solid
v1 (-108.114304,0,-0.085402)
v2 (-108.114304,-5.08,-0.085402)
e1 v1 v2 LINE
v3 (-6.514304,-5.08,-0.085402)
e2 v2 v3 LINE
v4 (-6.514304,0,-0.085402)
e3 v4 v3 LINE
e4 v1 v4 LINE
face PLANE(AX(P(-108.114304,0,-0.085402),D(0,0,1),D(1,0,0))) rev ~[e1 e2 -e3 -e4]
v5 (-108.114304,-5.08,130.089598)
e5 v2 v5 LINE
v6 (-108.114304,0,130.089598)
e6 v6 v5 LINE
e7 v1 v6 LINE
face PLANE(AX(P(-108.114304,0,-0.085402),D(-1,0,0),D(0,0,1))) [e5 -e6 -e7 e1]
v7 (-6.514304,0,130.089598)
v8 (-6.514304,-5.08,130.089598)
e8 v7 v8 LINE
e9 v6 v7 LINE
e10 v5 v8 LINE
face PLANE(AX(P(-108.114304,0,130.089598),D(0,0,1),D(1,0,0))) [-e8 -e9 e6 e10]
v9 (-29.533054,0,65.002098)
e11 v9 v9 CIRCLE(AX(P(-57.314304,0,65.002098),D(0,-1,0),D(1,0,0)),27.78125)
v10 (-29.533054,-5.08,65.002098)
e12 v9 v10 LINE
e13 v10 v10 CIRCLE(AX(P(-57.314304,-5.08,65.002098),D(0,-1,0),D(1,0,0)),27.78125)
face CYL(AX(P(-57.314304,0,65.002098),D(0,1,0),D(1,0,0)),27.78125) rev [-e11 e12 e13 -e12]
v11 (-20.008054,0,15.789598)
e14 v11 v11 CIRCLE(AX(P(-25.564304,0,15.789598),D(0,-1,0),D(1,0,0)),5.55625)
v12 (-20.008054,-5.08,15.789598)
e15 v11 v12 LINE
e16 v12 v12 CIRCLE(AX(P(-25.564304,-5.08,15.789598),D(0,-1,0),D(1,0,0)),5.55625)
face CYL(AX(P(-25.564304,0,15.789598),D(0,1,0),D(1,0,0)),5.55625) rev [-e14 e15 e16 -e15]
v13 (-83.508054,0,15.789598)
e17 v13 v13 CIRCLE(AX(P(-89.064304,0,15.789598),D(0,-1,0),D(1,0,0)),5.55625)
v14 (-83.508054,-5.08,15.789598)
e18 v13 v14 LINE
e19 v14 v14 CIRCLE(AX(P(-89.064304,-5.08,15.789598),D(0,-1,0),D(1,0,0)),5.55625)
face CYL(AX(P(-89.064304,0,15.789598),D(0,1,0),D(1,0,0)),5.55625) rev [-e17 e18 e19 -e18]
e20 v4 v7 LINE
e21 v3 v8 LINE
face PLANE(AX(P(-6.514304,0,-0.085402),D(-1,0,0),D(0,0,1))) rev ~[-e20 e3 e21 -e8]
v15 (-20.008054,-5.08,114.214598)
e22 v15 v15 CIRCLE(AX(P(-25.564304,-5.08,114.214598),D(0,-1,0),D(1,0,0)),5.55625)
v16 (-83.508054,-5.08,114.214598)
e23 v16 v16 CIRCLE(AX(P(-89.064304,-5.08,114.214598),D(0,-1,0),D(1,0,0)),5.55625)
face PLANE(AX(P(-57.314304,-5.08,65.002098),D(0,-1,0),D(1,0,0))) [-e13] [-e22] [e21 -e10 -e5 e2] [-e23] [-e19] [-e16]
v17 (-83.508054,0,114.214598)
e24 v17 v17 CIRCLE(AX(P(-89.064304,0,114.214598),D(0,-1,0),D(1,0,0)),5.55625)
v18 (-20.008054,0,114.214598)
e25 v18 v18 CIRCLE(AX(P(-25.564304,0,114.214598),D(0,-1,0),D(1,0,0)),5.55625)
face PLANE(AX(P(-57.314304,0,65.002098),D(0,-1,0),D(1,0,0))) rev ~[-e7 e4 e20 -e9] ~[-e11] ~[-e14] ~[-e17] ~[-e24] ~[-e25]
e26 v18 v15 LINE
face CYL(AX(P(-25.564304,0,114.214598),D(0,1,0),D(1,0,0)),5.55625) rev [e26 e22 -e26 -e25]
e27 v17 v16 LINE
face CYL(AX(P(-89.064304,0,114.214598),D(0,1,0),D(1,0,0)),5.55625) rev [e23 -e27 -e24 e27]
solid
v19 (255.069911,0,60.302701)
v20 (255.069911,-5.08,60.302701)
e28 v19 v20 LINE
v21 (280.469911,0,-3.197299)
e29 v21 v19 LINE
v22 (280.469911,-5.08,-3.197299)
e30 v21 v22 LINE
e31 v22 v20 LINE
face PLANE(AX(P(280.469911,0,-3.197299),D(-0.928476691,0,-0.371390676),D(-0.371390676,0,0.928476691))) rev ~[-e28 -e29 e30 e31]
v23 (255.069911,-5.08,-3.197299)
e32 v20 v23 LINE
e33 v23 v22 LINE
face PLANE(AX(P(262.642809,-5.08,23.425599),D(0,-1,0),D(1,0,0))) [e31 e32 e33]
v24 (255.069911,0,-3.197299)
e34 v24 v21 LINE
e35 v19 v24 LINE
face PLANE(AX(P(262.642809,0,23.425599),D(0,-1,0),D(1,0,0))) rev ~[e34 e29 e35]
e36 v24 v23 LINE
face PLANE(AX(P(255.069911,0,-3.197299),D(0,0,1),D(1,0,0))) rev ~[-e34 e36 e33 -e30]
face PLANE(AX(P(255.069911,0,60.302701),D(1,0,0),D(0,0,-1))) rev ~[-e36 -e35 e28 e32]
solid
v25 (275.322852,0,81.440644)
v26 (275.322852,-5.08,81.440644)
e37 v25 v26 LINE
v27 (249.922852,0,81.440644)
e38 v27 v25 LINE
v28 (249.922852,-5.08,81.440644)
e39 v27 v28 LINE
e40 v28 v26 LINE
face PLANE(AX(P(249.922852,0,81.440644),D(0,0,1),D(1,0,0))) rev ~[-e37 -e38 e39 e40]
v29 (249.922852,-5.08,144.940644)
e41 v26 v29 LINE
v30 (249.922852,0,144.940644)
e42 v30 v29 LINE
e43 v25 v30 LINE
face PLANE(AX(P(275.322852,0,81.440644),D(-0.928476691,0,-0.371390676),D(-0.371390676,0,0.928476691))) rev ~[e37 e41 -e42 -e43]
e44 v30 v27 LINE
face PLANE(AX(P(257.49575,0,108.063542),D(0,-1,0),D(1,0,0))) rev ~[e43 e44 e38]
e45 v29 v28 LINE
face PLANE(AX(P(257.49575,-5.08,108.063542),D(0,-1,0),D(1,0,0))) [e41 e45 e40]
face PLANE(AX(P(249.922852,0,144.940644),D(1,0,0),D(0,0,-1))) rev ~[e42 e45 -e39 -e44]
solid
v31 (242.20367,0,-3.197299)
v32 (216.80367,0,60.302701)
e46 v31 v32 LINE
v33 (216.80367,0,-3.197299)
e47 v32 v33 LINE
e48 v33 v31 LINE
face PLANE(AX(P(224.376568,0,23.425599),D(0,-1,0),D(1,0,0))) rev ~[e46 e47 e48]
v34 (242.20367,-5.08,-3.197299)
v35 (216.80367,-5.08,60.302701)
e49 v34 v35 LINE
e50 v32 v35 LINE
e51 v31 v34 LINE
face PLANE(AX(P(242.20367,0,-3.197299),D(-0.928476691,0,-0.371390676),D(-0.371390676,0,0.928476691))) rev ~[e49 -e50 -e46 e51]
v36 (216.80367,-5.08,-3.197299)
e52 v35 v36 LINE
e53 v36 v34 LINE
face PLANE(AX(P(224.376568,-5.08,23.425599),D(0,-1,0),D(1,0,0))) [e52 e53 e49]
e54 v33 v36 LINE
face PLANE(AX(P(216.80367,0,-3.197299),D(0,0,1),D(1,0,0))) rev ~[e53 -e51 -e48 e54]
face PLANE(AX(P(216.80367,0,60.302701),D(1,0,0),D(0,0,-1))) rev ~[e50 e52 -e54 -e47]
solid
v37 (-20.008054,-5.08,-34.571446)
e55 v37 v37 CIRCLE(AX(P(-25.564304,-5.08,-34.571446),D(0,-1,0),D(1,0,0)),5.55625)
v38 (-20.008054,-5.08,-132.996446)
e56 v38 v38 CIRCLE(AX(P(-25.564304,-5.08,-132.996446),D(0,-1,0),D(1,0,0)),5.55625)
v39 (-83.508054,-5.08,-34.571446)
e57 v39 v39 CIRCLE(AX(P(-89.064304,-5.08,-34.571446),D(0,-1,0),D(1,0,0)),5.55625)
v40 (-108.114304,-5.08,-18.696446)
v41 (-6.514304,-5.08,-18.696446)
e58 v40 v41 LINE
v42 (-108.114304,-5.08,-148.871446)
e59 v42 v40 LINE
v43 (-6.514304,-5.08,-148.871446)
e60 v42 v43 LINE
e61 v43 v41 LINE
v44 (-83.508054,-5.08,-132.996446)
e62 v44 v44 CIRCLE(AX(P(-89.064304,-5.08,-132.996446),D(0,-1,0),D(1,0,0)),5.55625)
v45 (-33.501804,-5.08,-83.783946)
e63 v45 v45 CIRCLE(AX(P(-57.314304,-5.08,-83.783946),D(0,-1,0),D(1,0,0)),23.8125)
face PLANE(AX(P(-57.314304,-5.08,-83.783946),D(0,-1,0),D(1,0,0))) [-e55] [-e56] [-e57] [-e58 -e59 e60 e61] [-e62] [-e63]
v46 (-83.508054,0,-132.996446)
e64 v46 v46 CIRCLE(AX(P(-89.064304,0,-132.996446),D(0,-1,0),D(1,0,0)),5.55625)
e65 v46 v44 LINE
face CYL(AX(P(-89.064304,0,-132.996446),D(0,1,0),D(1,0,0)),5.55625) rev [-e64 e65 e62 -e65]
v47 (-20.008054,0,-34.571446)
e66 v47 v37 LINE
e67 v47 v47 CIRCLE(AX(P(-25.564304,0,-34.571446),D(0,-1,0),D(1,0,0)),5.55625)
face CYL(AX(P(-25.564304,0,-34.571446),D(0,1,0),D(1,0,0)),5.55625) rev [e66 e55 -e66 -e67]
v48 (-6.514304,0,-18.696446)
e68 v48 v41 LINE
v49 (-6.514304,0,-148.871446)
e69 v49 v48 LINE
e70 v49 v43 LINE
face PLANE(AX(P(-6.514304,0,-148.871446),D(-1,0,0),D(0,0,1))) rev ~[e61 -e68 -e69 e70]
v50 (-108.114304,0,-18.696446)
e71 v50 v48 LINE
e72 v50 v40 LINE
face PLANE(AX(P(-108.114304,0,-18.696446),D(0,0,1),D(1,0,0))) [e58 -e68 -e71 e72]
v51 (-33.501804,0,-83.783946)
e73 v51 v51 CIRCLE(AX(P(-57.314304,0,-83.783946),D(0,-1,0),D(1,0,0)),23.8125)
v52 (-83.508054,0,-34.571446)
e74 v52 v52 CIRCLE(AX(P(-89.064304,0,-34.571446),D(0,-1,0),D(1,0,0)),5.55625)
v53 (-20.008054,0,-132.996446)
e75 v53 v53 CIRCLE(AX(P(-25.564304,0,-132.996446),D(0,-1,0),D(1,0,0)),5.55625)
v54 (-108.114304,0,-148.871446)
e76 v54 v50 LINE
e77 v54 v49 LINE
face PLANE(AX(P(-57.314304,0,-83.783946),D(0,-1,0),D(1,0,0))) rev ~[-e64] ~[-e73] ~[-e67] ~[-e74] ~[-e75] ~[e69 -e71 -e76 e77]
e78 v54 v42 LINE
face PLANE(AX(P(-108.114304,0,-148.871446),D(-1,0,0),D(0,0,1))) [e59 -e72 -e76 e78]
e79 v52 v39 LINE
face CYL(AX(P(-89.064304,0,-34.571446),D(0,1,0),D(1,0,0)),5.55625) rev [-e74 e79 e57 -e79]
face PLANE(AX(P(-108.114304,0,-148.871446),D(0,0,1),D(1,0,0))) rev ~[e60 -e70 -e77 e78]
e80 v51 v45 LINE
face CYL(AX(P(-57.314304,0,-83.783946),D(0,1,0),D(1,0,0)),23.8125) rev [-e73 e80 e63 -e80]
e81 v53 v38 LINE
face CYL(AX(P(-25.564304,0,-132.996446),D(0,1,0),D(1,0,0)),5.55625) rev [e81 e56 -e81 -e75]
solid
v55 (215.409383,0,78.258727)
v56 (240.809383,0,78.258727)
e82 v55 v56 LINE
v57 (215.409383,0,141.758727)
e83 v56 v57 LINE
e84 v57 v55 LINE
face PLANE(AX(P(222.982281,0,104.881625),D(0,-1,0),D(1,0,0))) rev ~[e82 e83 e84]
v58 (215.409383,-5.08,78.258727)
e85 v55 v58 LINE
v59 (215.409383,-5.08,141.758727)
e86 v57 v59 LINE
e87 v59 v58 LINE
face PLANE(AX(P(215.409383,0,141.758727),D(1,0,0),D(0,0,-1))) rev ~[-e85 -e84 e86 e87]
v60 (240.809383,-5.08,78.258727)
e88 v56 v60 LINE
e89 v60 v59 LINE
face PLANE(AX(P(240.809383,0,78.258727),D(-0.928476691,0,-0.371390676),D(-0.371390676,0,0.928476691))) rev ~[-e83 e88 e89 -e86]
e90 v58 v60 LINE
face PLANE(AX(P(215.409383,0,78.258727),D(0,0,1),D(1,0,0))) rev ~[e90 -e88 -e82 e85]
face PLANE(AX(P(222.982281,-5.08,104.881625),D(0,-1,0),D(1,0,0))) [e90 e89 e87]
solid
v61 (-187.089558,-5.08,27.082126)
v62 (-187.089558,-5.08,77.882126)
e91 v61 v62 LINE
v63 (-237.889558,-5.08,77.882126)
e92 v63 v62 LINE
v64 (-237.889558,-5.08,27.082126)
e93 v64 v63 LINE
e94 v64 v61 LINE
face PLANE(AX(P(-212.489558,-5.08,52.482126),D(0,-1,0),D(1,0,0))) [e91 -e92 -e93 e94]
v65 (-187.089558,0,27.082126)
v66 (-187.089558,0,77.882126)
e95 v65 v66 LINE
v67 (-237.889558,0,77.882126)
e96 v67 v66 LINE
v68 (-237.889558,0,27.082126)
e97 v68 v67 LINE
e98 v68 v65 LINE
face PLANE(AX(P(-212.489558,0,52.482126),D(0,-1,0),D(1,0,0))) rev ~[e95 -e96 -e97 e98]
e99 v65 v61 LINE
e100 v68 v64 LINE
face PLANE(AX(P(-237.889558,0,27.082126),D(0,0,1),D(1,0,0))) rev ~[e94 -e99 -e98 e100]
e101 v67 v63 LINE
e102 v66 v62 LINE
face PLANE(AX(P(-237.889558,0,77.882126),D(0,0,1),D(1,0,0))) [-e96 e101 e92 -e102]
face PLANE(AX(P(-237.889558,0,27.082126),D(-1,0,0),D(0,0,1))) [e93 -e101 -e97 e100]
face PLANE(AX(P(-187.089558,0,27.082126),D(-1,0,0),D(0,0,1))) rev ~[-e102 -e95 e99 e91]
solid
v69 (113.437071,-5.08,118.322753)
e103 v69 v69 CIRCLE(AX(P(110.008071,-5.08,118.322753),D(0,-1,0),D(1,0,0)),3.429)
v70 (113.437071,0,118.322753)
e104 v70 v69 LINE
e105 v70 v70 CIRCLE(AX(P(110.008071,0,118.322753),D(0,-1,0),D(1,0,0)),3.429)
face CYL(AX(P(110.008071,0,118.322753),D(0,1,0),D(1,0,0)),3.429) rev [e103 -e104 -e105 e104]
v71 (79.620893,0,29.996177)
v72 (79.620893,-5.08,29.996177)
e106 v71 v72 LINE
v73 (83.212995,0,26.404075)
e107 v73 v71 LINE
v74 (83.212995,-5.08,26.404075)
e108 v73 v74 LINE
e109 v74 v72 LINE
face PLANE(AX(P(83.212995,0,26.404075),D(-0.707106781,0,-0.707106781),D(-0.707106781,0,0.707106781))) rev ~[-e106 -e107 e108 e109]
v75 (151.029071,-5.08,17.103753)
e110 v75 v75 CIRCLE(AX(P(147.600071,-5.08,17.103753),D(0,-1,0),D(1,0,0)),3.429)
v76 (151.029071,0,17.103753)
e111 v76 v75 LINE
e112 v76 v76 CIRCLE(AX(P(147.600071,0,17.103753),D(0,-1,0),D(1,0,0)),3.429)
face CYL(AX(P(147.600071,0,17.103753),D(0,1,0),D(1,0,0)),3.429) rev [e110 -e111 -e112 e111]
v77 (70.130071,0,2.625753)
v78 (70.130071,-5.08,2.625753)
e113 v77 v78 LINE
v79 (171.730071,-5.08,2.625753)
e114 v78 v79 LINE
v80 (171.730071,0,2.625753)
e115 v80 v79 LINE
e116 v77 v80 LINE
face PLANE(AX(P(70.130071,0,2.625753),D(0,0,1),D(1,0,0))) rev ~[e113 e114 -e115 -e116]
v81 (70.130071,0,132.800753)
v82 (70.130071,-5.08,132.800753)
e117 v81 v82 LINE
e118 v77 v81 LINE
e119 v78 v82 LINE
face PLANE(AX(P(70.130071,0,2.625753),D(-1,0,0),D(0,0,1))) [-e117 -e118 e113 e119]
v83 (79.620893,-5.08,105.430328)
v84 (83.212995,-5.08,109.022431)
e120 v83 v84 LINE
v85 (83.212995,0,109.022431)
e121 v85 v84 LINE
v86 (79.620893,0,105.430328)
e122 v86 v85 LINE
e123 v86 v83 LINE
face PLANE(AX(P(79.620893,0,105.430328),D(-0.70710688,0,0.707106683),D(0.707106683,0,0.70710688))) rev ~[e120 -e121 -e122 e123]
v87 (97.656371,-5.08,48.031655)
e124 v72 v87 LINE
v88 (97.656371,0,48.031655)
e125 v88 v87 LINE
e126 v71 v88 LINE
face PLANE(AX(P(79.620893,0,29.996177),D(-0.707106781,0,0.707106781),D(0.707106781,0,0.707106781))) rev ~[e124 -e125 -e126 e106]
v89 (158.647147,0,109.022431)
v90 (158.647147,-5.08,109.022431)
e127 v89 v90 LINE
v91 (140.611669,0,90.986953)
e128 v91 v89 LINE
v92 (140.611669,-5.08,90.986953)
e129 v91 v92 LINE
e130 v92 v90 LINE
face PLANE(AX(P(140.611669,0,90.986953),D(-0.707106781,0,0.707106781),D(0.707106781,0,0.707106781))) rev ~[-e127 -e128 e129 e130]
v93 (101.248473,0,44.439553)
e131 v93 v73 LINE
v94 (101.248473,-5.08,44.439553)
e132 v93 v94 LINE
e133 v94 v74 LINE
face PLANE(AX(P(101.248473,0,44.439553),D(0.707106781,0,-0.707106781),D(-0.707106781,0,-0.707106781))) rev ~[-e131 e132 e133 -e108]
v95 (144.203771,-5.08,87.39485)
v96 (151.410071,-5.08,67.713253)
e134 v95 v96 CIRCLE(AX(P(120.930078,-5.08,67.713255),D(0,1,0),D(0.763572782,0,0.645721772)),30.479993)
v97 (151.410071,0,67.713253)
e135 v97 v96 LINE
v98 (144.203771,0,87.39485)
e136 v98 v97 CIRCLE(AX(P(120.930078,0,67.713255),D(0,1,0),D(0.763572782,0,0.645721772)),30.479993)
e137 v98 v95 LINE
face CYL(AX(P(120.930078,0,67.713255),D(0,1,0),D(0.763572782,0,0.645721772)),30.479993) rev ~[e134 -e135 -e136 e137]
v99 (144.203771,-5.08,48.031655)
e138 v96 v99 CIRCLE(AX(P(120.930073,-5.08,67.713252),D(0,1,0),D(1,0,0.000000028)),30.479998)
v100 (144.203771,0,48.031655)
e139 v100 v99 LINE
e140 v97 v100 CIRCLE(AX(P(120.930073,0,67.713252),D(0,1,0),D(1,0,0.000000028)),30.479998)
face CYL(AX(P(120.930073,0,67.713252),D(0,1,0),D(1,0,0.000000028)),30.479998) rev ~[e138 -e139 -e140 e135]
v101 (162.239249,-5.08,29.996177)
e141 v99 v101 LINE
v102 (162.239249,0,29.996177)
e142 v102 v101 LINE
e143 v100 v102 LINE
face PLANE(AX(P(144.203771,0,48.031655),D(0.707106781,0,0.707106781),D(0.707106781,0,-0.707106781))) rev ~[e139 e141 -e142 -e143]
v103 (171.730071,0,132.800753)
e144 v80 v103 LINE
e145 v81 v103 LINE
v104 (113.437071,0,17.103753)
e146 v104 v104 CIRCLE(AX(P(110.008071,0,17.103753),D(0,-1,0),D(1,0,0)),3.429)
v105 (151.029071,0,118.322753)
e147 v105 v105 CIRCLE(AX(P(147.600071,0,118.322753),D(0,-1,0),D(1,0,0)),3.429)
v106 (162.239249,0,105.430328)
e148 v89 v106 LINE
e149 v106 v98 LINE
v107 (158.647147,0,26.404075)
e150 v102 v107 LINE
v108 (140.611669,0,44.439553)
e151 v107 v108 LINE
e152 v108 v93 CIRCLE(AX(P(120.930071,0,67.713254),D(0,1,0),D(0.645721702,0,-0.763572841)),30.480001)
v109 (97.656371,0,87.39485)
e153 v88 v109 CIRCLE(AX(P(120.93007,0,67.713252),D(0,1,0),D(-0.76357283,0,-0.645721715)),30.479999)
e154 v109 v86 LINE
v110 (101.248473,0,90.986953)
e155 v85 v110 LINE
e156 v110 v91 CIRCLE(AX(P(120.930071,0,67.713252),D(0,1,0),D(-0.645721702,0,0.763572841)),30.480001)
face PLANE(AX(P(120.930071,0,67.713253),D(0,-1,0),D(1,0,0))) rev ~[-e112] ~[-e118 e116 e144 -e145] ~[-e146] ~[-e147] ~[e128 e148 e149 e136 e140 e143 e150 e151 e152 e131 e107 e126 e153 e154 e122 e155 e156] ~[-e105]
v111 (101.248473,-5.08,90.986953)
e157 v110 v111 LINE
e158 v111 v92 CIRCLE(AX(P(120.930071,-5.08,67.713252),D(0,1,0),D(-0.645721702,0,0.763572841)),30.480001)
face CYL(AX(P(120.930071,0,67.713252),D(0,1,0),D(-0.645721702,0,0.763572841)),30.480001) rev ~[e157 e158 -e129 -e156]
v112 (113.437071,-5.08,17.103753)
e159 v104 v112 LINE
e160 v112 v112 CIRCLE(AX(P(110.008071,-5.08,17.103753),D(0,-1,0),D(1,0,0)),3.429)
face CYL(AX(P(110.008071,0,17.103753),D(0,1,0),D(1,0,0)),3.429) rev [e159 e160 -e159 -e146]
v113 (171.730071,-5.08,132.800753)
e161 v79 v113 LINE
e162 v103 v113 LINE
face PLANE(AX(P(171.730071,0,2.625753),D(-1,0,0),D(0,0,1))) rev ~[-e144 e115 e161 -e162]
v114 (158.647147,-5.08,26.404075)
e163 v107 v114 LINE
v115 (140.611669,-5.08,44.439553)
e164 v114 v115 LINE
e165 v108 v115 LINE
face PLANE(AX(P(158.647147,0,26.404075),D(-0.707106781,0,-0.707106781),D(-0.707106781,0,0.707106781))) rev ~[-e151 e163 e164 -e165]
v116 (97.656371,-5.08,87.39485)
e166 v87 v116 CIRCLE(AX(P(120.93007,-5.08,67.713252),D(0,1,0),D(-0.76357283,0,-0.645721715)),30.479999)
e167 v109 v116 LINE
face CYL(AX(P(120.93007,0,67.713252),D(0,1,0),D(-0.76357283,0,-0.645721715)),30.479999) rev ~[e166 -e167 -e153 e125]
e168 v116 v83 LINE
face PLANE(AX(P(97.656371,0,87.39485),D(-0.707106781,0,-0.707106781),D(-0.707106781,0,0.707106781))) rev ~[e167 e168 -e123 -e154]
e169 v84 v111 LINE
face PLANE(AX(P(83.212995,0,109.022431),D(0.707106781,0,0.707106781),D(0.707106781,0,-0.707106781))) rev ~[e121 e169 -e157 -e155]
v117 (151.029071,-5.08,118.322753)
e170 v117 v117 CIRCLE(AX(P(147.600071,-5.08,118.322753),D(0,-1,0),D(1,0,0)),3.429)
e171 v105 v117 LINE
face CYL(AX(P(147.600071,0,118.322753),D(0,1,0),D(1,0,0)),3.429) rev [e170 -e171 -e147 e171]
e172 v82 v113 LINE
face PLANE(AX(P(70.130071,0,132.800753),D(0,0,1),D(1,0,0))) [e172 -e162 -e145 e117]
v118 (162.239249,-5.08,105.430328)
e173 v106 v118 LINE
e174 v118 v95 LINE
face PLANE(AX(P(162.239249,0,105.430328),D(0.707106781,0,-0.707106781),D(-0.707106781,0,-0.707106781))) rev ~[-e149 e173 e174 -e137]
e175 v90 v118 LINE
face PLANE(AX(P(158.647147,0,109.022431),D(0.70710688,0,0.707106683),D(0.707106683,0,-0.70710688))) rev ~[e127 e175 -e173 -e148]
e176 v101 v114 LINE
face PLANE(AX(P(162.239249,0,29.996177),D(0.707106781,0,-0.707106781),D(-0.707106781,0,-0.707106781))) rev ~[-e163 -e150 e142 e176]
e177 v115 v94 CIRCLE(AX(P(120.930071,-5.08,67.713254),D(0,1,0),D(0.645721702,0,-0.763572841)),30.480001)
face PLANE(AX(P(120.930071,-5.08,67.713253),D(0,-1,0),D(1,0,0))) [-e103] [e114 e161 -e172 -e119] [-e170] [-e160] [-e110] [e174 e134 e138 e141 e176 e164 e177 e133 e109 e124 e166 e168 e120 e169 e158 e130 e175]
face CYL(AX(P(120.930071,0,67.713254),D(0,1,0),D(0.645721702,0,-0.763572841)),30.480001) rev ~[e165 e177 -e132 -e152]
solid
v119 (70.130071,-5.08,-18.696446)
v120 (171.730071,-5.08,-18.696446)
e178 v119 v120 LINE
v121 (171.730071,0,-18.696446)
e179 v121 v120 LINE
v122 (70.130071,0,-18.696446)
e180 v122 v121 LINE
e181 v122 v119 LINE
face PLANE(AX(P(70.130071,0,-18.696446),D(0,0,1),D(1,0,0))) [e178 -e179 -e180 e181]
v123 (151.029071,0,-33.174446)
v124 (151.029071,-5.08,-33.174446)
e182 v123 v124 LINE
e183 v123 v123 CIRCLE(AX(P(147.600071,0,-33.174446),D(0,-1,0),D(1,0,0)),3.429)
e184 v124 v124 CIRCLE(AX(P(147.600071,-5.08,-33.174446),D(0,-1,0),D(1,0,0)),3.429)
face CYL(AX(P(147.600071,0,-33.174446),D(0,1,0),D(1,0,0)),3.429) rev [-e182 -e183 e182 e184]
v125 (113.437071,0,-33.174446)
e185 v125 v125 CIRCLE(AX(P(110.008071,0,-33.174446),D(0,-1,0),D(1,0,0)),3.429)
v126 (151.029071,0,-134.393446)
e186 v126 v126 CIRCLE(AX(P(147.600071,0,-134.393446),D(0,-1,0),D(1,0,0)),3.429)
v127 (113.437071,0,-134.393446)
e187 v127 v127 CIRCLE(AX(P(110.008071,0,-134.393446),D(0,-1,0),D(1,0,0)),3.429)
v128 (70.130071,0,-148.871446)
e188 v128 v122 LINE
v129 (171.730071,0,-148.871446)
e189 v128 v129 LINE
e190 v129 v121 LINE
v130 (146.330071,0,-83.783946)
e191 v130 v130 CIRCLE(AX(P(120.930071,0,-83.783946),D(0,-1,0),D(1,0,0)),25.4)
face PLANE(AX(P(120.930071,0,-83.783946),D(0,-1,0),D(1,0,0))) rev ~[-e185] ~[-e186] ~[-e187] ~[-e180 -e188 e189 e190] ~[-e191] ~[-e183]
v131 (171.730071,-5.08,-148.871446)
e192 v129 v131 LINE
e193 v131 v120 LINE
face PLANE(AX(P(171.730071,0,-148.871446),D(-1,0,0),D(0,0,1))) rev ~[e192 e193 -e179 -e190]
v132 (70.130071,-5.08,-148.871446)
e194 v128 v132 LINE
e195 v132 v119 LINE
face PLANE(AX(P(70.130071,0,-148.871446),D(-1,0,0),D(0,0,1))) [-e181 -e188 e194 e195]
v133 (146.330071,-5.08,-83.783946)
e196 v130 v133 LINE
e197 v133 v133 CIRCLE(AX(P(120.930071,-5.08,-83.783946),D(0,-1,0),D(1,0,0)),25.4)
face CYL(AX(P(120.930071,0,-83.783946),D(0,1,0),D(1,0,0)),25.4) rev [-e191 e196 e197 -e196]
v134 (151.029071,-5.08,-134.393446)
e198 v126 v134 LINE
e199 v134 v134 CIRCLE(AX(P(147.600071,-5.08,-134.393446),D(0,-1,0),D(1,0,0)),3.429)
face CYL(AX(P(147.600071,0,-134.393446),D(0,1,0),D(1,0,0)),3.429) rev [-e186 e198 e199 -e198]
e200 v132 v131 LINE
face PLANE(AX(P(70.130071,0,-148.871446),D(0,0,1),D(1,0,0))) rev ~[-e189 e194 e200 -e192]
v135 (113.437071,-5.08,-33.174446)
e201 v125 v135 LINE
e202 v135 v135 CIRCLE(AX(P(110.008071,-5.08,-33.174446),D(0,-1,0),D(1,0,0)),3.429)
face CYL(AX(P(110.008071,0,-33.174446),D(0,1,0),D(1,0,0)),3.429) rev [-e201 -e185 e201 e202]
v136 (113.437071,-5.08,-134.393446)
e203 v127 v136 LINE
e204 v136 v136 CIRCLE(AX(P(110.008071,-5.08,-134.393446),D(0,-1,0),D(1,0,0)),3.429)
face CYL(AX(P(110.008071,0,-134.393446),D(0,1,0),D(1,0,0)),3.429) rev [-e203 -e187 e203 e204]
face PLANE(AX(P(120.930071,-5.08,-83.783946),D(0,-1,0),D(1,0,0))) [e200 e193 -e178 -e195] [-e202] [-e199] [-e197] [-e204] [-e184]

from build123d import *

# Parameters (mm, degrees)
F0_W     = 101.6
F0_H     = 130.175
F0_R     = 5.55625
F0_R_2   = 27.78125
F0_R_3   = 3.429
F0_R_4   = 25.4
F0_R_5   = 23.8125
F0_W_2   = 50.8
F0_H_2   = 50.8
F1_DEPTH = 5.08


with BuildPart() as f1:
    # F0 (on Front) → F1 (new body)
    with BuildSketch(Plane.XZ):
        with Locations((-57.314304, 65.002098)):
            Rectangle(F0_W, F0_H)
        with Locations((-89.064304, 15.789598)):
            Circle(F0_R, mode=Mode.SUBTRACT)
        with Locations((-25.564304, 15.789598)):
            Circle(F0_R, mode=Mode.SUBTRACT)
        with Locations((-57.314304, 65.002098)):
            Circle(F0_R_2, mode=Mode.SUBTRACT)
        with Locations((-89.064304, 114.214598)):
            Circle(F0_R, mode=Mode.SUBTRACT)
        with Locations((-25.564304, 114.214598)):
            Circle(F0_R, mode=Mode.SUBTRACT)
        with Locations((120.930071, 67.713253)):
            Rectangle(F0_W, F0_H)
        with Locations((110.008071, 17.103753)):
            Circle(F0_R_3, mode=Mode.SUBTRACT)
        with Locations((147.600071, 17.103753)):
            Circle(F0_R_3, mode=Mode.SUBTRACT)
        with BuildLine():
            ThreePointArc((144.203771, 87.39485), (149.551853, 78.192948), (151.410071, 67.713253))
            ThreePointArc((151.410071, 67.713253), (149.551853, 57.233558), (144.203771, 48.031655))
            Line((144.203771, 48.031655), (162.239249, 29.996177))
            ThreePointArc((162.239249, 29.996177), (162.239249, 26.404075), (158.647147, 26.404075))
            Line((158.647147, 26.404075), (140.611669, 44.439553))
            ThreePointArc((140.611669, 44.439553), (120.930071, 37.233253), (101.248473, 44.439553))
            Line((101.248473, 44.439553), (83.212995, 26.404075))
            ThreePointArc((83.212995, 26.404075), (79.620893, 26.404075), (79.620893, 29.996177))
            Line((79.620893, 29.996177), (97.656371, 48.031655))
            ThreePointArc((97.656371, 48.031655), (90.450071, 67.713253), (97.656371, 87.39485))
            Line((97.656371, 87.39485), (79.620893, 105.430328))
            ThreePointArc((79.620893, 105.430328), (79.620893, 109.022431), (83.212995, 109.022431))
            Line((83.212995, 109.022431), (101.248473, 90.986953))
            ThreePointArc((101.248473, 90.986953), (120.930071, 98.193253), (140.611669, 90.986953))
            Line((140.611669, 90.986953), (158.647147, 109.022431))
            ThreePointArc((158.647147, 109.022431), (162.239249, 109.022431), (162.239249, 105.430328))
            Line((162.239249, 105.430328), (144.203771, 87.39485))
        make_face(mode=Mode.SUBTRACT)
        with Locations((110.008071, 118.322753)):
            Circle(F0_R_3, mode=Mode.SUBTRACT)
        with Locations((147.600071, 118.322753)):
            Circle(F0_R_3, mode=Mode.SUBTRACT)
        with Locations((120.930071, -83.783946)):
            Rectangle(F0_W, F0_H)
        with Locations((110.008071, -134.393446)):
            Circle(F0_R_3, mode=Mode.SUBTRACT)
        with Locations((147.600071, -134.393446)):
            Circle(F0_R_3, mode=Mode.SUBTRACT)
        with Locations((120.930071, -83.783946)):
            Circle(F0_R_4, mode=Mode.SUBTRACT)
        with Locations((110.008071, -33.174446)):
            Circle(F0_R_3, mode=Mode.SUBTRACT)
        with Locations((147.600071, -33.174446)):
            Circle(F0_R_3, mode=Mode.SUBTRACT)
        with Locations((-57.314304, -83.783946)):
            Rectangle(F0_W, F0_H)
        with Locations((-89.064304, -132.996446)):
            Circle(F0_R, mode=Mode.SUBTRACT)
        with Locations((-25.564304, -132.996446)):
            Circle(F0_R, mode=Mode.SUBTRACT)
        with Locations((-57.314304, -83.783946)):
            Circle(F0_R_5, mode=Mode.SUBTRACT)
        with Locations((-89.064304, -34.571446)):
            Circle(F0_R, mode=Mode.SUBTRACT)
        with Locations((-25.564304, -34.571446)):
            Circle(F0_R, mode=Mode.SUBTRACT)
        Polygon((240.809383, 78.258727), (215.409383, 141.758727), (215.409383, 78.258727), align=None)
        Polygon((275.322852, 81.440644), (249.922852, 144.940644), (249.922852, 81.440644), align=None)
        Polygon((242.20367, -3.197299), (216.80367, 60.302701), (216.80367, -3.197299), align=None)
        Polygon((280.469911, -3.197299), (255.069911, 60.302701), (255.069911, -3.197299), align=None)
        with BuildLine():
            Line((79.620893, 105.430328), (83.212995, 109.022431))
            ThreePointArc((83.212995, 109.022431), (79.620893, 109.022431), (79.620893, 105.430328))
        make_face()
        with BuildLine():
            Line((158.647147, 109.022431), (162.239249, 105.430328))
            ThreePointArc((162.239249, 105.430328), (162.239249, 109.022431), (158.647147, 109.022431))
        make_face()
        with BuildLine():
            ThreePointArc((158.647147, 26.404075), (162.239249, 26.404075), (162.239249, 29.996177))
            Line((162.239249, 29.996177), (158.647147, 26.404075))
        make_face()
        with BuildLine():
            ThreePointArc((79.620893, 29.996177), (79.620893, 26.404075), (83.212995, 26.404075))
            Line((83.212995, 26.404075), (79.620893, 29.996177))
        make_face()
        with Locations((-212.489558, 52.482126)):
            Rectangle(F0_W_2, F0_H_2)
    extrude(amount=F1_DEPTH)


solid = f1.part
